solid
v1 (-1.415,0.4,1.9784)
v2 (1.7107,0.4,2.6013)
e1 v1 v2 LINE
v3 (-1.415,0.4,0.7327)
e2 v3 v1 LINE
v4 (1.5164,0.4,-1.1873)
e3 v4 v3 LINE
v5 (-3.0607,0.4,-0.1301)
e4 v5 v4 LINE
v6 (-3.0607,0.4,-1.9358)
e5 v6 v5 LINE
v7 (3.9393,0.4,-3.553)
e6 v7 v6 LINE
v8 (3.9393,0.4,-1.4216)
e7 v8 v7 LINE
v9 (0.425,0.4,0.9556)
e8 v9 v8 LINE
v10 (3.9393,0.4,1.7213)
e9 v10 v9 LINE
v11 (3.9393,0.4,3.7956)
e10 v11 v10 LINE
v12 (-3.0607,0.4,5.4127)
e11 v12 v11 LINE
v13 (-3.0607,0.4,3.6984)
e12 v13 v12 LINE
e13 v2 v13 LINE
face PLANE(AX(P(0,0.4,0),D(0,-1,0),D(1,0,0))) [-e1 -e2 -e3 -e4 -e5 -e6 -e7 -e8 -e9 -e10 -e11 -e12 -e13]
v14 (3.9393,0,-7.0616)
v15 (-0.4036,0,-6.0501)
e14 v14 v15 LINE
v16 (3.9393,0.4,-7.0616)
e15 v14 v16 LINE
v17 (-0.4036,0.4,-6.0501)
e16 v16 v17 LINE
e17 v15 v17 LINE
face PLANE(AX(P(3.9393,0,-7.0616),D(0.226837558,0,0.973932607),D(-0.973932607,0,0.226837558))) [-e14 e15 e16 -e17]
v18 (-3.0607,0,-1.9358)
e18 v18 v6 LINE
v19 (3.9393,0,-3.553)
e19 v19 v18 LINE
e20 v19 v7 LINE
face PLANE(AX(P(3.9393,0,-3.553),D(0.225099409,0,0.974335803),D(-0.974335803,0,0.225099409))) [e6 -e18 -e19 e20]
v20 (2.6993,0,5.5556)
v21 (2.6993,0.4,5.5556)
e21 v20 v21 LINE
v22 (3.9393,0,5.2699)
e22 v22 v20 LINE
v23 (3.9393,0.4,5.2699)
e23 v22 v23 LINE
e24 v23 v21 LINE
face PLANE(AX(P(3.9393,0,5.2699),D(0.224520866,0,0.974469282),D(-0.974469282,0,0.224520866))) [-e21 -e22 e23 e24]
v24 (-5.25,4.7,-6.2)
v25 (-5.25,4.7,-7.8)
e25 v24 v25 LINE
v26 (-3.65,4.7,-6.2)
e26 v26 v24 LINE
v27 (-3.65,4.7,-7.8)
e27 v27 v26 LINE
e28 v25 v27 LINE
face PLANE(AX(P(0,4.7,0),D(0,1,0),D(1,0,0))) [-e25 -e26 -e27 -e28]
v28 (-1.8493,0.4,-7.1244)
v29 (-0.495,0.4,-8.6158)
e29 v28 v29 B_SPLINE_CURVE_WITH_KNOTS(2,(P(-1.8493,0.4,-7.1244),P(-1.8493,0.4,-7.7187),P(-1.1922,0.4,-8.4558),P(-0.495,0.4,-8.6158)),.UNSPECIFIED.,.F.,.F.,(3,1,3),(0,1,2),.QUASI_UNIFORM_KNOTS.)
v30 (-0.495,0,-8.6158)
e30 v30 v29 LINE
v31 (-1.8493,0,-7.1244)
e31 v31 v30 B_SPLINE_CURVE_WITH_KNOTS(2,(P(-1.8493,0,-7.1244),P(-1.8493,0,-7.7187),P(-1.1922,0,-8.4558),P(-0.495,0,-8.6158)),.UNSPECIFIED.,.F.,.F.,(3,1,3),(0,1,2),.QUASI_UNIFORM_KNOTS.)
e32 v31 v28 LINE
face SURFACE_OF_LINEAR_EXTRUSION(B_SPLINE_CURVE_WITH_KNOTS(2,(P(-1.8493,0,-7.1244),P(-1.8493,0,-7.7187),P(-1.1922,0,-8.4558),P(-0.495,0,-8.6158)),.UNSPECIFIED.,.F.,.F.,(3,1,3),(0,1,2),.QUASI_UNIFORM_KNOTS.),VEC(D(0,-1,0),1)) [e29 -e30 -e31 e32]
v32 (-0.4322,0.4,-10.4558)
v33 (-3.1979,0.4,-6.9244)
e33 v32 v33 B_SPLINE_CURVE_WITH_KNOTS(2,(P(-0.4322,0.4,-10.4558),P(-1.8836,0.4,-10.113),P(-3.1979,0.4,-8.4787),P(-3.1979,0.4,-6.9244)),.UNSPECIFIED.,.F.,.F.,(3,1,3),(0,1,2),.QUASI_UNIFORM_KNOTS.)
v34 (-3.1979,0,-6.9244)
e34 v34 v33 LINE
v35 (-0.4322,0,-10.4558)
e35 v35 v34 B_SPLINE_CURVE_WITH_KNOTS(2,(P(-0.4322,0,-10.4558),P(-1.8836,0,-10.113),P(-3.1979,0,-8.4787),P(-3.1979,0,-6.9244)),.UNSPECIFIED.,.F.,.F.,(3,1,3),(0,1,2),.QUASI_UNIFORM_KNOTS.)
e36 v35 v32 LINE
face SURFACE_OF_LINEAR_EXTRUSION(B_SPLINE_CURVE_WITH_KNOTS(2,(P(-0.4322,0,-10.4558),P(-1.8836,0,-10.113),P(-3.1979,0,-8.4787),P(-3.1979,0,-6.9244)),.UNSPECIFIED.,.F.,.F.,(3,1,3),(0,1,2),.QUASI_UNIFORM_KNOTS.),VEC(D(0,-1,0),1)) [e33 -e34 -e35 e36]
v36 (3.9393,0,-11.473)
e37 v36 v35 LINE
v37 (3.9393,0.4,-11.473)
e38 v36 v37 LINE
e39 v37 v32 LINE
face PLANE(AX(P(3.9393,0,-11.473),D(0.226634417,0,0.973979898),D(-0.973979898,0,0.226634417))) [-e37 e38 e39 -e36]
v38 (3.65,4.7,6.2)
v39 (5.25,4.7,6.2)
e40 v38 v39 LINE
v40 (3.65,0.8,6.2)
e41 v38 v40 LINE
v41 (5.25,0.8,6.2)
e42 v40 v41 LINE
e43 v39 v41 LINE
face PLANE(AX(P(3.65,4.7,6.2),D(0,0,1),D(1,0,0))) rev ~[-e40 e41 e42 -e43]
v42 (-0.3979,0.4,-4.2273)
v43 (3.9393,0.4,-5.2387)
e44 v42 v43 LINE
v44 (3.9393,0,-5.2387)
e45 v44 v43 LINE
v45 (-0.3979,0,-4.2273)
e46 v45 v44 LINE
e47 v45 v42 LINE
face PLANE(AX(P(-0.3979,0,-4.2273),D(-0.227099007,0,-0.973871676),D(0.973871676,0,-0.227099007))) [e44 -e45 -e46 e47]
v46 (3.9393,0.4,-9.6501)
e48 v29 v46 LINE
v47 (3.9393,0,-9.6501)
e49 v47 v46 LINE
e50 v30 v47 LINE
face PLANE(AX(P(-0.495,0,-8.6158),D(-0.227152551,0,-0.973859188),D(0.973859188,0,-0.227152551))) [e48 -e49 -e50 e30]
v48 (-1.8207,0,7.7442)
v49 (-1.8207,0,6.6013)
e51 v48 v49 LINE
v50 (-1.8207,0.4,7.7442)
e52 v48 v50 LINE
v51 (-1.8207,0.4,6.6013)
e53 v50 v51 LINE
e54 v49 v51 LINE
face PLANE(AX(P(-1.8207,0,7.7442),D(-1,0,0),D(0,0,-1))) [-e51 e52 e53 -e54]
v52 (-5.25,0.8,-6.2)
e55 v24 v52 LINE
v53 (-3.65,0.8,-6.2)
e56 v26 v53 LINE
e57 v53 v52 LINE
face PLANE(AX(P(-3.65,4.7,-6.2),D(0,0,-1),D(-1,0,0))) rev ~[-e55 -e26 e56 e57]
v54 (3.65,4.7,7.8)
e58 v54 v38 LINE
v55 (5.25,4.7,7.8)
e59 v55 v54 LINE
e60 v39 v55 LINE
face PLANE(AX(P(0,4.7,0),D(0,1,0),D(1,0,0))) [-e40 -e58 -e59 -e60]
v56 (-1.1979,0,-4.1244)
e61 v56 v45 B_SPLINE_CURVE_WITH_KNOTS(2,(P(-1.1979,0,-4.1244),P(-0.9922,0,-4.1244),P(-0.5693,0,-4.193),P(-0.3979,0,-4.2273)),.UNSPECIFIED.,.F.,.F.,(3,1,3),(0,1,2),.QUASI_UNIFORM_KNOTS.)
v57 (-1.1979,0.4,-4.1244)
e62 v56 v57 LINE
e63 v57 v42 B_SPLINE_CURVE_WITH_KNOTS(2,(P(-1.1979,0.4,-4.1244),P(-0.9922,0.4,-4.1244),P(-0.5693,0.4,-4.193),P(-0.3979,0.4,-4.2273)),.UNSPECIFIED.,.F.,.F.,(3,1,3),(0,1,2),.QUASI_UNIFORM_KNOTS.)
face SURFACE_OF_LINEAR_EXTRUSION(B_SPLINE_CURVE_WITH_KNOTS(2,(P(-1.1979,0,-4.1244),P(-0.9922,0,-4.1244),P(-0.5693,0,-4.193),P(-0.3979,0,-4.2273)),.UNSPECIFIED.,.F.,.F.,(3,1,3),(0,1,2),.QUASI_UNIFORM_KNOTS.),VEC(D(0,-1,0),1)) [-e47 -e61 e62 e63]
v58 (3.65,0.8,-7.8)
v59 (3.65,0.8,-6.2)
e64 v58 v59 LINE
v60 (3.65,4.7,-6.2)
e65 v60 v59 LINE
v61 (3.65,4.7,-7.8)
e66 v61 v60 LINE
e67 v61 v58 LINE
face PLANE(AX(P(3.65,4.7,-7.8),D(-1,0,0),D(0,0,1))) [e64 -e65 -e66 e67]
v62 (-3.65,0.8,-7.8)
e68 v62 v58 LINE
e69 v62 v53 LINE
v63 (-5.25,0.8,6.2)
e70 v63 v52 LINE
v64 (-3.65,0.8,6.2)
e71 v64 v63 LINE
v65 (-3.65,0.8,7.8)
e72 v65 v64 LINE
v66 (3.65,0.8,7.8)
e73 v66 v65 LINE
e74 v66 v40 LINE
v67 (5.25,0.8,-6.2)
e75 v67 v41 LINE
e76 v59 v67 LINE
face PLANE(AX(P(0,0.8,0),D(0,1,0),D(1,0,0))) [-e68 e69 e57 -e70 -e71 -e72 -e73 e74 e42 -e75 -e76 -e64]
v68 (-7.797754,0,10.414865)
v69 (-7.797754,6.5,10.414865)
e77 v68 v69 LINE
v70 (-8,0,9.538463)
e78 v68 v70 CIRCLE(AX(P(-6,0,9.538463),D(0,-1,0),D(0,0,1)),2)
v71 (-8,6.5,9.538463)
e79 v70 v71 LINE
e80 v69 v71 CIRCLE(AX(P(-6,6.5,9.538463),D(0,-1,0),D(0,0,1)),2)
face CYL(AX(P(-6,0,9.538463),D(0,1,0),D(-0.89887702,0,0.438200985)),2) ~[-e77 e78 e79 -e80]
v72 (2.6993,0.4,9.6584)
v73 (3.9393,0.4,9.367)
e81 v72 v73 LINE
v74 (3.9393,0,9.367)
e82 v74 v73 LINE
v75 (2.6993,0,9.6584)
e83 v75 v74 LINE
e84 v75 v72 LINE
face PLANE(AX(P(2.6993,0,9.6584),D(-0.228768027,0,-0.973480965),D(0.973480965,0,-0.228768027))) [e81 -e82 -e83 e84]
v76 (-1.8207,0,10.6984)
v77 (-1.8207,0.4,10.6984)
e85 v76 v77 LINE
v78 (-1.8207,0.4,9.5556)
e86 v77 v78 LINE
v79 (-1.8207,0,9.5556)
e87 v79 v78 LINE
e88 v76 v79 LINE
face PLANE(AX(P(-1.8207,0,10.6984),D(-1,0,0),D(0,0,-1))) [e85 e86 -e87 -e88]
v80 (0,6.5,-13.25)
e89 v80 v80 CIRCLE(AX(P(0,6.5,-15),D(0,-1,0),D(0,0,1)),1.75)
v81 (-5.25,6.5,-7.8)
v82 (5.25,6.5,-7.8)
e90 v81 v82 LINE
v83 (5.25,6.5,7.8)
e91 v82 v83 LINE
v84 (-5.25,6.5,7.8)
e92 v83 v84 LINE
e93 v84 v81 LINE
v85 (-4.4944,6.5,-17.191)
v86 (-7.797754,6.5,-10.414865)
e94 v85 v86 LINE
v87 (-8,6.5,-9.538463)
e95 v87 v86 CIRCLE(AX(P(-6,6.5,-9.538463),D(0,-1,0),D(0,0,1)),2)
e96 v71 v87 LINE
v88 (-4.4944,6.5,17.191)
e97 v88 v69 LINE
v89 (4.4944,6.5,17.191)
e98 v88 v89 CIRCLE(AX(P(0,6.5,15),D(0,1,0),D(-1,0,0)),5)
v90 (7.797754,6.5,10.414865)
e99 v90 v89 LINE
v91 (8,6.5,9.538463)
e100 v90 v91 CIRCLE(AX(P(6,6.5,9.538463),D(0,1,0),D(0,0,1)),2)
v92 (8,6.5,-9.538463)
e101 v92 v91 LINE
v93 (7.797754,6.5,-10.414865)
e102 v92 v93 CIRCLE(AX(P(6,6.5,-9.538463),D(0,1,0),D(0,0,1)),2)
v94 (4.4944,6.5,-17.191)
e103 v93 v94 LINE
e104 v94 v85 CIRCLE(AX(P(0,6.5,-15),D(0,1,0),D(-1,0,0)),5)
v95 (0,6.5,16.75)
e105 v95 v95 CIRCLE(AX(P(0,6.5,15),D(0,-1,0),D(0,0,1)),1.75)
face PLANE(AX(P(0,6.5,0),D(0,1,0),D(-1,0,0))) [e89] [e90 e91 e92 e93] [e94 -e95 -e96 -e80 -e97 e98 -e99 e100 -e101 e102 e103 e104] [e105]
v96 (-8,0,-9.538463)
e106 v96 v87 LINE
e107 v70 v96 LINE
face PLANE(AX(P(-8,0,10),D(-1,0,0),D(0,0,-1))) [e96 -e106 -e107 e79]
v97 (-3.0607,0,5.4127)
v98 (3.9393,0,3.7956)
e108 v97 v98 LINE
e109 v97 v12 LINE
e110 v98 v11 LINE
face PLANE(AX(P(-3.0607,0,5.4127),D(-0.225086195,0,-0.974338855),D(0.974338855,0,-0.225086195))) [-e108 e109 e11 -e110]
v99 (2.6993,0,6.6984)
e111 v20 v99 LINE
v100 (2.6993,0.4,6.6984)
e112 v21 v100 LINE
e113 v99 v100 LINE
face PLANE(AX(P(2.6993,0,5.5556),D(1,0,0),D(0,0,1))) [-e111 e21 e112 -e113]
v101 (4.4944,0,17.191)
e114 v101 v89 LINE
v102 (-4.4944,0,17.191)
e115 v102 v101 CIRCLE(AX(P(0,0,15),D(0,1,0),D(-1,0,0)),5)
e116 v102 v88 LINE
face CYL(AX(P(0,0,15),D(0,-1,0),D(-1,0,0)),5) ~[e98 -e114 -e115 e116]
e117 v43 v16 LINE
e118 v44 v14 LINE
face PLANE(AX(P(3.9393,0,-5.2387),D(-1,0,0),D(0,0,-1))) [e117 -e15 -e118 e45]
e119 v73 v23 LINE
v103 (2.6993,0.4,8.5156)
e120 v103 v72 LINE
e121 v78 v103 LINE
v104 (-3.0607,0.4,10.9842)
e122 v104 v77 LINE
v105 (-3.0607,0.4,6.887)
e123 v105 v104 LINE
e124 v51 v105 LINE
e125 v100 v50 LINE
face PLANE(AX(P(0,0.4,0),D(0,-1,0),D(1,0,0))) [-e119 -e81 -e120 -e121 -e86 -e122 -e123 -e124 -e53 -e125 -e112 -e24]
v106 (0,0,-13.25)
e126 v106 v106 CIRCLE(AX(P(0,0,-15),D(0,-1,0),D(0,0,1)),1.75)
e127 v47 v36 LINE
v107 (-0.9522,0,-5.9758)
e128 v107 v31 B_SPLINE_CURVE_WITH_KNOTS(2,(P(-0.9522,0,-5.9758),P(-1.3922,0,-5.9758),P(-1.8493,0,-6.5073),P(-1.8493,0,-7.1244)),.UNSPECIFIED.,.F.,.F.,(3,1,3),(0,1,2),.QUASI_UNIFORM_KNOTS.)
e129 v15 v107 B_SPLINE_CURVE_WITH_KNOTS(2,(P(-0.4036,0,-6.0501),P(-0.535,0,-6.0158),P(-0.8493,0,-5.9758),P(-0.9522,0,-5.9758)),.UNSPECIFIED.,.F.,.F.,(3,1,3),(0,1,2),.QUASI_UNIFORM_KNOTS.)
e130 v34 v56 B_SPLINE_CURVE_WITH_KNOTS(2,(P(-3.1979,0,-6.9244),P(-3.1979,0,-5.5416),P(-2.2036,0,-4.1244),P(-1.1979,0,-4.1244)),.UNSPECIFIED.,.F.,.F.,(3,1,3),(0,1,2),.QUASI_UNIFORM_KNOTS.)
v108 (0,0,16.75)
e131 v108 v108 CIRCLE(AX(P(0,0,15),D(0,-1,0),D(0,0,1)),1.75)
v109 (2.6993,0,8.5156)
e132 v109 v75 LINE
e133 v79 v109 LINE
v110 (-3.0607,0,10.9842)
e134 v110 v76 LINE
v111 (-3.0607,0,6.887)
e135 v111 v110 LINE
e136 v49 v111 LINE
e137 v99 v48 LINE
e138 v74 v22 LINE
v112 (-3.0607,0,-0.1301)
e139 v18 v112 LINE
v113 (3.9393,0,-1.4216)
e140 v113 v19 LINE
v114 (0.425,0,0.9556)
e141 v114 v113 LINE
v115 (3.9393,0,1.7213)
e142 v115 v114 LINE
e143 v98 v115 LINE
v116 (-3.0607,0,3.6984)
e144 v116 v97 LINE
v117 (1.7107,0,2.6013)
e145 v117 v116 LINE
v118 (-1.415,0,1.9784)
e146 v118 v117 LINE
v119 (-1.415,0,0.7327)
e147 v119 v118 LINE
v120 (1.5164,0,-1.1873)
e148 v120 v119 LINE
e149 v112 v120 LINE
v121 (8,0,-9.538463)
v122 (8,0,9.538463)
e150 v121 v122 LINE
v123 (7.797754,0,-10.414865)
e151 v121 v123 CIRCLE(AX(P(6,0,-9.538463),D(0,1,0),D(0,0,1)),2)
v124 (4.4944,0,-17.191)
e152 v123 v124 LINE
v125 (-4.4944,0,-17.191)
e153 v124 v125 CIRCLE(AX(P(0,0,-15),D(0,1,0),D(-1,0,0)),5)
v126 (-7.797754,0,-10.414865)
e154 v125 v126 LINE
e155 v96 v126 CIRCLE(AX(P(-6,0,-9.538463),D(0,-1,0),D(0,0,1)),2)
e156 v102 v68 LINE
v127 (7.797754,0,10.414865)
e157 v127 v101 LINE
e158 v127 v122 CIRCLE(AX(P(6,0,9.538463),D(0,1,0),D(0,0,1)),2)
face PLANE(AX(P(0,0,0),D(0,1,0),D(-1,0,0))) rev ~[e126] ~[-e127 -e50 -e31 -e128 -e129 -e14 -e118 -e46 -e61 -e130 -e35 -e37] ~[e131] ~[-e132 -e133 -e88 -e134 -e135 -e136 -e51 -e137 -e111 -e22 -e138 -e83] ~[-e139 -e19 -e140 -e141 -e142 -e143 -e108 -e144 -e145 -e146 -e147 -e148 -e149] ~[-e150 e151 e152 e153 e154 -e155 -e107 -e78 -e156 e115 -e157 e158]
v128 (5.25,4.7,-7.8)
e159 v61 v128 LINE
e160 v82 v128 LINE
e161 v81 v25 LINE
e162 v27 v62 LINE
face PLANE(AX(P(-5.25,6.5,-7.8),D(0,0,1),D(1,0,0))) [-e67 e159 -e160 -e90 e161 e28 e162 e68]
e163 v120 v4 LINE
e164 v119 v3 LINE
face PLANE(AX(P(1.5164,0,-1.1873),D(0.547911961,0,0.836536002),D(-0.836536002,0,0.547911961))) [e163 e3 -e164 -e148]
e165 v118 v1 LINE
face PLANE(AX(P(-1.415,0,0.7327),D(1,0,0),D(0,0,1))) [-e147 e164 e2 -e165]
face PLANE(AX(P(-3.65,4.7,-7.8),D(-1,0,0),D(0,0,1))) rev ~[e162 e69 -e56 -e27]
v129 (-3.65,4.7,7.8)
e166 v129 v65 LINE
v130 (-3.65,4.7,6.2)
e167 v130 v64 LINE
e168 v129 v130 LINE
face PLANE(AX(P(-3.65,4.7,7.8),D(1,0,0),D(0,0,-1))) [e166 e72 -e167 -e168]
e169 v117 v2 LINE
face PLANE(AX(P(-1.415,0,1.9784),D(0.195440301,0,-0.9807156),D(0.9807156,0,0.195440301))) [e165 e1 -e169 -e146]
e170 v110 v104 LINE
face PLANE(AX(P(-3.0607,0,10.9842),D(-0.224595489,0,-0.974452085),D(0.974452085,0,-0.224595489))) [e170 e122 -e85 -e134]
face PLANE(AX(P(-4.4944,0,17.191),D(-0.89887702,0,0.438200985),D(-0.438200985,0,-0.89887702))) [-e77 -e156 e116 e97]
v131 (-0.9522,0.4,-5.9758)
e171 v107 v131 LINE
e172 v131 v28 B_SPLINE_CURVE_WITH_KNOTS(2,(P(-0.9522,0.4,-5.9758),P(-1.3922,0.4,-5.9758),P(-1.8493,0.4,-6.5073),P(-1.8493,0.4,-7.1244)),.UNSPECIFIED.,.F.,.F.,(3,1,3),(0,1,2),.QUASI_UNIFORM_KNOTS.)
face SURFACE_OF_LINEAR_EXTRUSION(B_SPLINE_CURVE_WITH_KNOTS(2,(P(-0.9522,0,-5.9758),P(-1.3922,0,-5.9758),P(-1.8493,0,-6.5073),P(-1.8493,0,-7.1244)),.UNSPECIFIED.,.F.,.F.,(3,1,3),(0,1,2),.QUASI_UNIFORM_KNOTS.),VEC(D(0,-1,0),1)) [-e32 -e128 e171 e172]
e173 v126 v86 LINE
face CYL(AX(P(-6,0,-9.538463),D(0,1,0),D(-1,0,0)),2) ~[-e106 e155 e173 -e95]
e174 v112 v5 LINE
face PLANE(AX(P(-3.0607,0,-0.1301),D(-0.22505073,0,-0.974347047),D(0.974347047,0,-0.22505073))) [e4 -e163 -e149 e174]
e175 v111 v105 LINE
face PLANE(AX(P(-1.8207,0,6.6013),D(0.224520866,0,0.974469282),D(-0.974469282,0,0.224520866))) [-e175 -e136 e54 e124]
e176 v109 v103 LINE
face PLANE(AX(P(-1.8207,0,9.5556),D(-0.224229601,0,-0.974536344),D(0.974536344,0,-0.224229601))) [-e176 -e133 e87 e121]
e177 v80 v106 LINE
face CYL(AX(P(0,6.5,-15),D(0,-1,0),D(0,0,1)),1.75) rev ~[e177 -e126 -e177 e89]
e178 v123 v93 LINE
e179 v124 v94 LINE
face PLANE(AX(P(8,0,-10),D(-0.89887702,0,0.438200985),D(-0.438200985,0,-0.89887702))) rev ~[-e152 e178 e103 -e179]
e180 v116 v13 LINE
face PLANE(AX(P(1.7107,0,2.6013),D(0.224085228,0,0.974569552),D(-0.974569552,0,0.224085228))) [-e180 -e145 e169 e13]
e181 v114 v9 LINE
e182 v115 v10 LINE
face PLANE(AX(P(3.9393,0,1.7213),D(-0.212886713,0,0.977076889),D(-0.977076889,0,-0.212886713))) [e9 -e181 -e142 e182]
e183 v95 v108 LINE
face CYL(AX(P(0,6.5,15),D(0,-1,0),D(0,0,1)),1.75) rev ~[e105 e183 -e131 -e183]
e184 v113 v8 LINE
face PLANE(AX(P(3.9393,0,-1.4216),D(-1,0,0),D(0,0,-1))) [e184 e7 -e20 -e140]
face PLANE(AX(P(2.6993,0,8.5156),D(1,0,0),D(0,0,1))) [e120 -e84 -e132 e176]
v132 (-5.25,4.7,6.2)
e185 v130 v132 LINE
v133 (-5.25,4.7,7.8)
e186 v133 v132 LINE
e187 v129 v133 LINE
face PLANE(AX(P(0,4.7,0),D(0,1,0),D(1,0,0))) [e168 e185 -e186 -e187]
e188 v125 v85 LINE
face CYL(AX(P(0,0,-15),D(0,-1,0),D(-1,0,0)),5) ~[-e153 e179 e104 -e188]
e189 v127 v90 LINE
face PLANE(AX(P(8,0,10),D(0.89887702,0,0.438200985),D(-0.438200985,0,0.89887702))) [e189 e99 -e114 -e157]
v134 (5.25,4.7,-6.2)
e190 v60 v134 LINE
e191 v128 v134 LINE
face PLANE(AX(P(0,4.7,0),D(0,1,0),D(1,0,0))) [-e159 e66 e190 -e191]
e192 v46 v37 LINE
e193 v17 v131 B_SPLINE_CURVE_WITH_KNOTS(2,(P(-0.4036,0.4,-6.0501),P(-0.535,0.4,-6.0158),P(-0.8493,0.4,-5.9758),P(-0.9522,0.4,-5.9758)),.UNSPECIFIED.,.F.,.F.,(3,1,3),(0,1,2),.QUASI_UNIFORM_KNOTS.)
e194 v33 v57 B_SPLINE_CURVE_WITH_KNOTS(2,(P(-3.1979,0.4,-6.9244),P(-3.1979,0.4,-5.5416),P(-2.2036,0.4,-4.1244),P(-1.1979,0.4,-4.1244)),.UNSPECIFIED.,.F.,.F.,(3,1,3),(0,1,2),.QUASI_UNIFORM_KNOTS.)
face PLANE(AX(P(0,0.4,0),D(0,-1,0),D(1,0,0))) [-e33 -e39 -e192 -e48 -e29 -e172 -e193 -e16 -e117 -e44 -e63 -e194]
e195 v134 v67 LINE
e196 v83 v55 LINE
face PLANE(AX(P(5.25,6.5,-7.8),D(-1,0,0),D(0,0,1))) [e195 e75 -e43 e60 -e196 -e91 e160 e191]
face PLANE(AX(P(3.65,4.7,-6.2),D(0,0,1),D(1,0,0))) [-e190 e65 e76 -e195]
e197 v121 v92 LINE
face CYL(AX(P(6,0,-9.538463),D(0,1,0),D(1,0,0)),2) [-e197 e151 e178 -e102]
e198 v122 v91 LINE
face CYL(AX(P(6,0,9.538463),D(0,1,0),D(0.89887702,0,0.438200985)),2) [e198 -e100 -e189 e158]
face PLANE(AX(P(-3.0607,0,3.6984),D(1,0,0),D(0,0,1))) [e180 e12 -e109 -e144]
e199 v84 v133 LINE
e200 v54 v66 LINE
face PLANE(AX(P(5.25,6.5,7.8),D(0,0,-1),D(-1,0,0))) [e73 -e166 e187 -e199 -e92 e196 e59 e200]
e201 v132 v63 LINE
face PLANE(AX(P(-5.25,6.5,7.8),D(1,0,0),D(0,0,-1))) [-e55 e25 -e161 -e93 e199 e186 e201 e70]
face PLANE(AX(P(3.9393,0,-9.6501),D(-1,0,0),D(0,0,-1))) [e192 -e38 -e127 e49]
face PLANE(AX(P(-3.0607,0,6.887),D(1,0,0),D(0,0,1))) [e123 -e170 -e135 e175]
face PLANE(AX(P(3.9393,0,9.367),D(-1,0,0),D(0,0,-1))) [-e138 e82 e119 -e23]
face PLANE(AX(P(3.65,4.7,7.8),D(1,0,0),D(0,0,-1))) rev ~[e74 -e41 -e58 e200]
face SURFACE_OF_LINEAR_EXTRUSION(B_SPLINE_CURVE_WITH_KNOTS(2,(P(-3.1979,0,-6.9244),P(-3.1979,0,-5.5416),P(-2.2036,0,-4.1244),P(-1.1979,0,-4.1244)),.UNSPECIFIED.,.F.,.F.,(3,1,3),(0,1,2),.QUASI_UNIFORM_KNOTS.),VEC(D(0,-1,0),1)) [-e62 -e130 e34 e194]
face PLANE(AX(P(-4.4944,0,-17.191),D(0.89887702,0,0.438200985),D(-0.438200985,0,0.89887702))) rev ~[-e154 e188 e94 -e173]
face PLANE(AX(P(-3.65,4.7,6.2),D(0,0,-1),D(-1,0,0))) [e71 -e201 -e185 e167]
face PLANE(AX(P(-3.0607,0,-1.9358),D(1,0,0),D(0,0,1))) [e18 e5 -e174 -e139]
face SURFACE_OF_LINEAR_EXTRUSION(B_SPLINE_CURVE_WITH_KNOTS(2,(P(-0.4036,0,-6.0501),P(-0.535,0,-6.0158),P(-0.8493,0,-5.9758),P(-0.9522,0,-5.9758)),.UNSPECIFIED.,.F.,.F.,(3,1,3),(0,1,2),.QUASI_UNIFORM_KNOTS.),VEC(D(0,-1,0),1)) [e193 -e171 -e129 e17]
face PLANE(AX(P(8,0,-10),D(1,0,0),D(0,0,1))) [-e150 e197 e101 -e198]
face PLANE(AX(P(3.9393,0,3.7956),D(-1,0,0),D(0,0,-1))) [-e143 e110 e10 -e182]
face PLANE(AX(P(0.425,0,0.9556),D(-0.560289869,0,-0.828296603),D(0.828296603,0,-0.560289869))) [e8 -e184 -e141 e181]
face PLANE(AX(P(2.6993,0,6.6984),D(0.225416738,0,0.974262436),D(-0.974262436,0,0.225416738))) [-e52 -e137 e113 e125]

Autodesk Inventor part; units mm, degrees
ref_plane "YZ Plane" through (0, 0, 0) normal (1, 0, 0) x (0, 1, 0)
ref_plane "XZ Plane" through (0, 0, 0) normal (0, 1, 0) x (-1, 0, 0)
ref_plane "XY Plane" through (0, 0, 0) normal (0, 0, 1) x (1, 0, 0)
sketch "スケッチ1" plane through (0, 0, 0) normal (0, 1, 0) x (-1, 0, 0)
  line L0 (-8, 10) -> (8, 10)
  line L1 (8, 10) -> (8, -10)
  line L2 (8, -10) -> (-8, -10)
  line L3 (-8, -10) -> (-8, 10)
  line L4 (-8, 10) -> (8, -10) construction
  line L5 (8, 10) -> (-8, -10) construction
  circle A0 centre (0, 15) radius 5
  circle A1 centre (0, -15) radius 5
  line L6 (4.4944, 17.191) -> (8, 10)
  line L7 (-8, 10) -> (-4.4944, 17.191)
  line L8 (4.4944, -17.191) -> (8, -10)
  line L9 (-8, -10) -> (-4.4944, -17.191)
  point P0 (0, 0)
  dimension "d0" = 16
  dimension "d1" = 20
  dimension "d2" = 10
  dimension "d3" = 10
extrude "押し出し1" add sketch "スケッチ1" along normal blind 6.5
sketch "スケッチ2" plane through (0, 6.5, 0) normal (0, 1, 0) x (1, 0, 0)
  line L0 (5.25, -7.8) -> (-5.25, -7.8)
  line L1 (-5.25, -7.8) -> (-5.25, 7.8)
  line L2 (-5.25, 7.8) -> (5.25, 7.8)
  line L3 (5.25, 7.8) -> (5.25, -7.8)
  line L4 (5.25, -7.8) -> (-5.25, 7.8) construction
  line L5 (-5.25, -7.8) -> (5.25, 7.8) construction
  point P0 (0, 0)
  dimension "d6" = 10.5
  dimension "d7" = 15.6
extrude "押し出し2" cut sketch "スケッチ2" against normal blind 1.8
sketch "スケッチ3" plane through (0, 4.7, 0) normal (0, 1, 0) x (1, 0, 0)
  line L0 (-5.25, 7.8) -> (5.25, 7.8) projected
  line L1 (-5.25, -7.8) -> (-5.25, 7.8) projected
  line L2 (5.25, -7.8) -> (-5.25, -7.8) projected
  line L3 (5.25, 7.8) -> (5.25, -7.8) projected
  line L4 (-5.25, -7.8) -> (-3.65, -7.8)
  line L5 (-3.65, -7.8) -> (-3.65, -6.2)
  line L6 (-3.65, -6.2) -> (-5.25, -6.2)
  line L7 (-5.25, -6.2) -> (-5.25, -7.8)
  line L8 (5.25, -7.8) -> (3.65, -7.8)
  line L9 (3.65, -7.8) -> (3.65, -6.2)
  line L10 (3.65, -6.2) -> (5.25, -6.2)
  line L11 (5.25, -6.2) -> (5.25, -7.8)
  line L12 (-5.25, 7.8) -> (-3.65, 7.8)
  line L13 (-3.65, 7.8) -> (-3.65, 6.2)
  line L14 (-3.65, 6.2) -> (-5.25, 6.2)
  line L15 (-5.25, 6.2) -> (-5.25, 7.8)
  line L16 (-5.25, 7.8) -> (5.25, 7.8) projected
  line L17 (5.25, 7.8) -> (3.65, 7.8)
  line L18 (3.65, 7.8) -> (3.65, 6.2)
  line L19 (3.65, 6.2) -> (5.25, 6.2)
  line L20 (5.25, 6.2) -> (5.25, 7.8)
  point P0 (0, 0)
  point P1 (-5.25, 6.2)
  point P2 (3.65, -7.8)
  dimension "d10" = 1.6
  dimension "d11" = 1.6
  dimension "d12" = 1.6
  dimension "d13" = 1.6
  dimension "d14" = 1.6
  dimension "d15" = 1.6
  dimension "d16" = 1.6
  dimension "d17" = 1.6
extrude "押し出し3" cut sketch "スケッチ3" against normal blind 3.9 contours L0 L18 L19 L3 L10 L9 L2 L5 L6 L1 L14 L13
sketch "スケッチ4" plane through (0, 6.5, 0) normal (0, 1, 0) x (1, 0, 0)
  arc A0 (-4.4944, -17.191) -> (4.4944, -17.191) centre (0, -15) ccw projected
  arc A1 (4.4944, 17.191) -> (-4.4944, 17.191) centre (0, 15) ccw projected
  point P0 (0, 0)
hole "穴1" at (0, 6.5, 15) at (0, 6.5, -15) direction (0, -1, 0) diameter 3.5 end through all
fillet "フィレット1" radius 2 4 edges at (8, 3.25, 10) (8, 3.25, -10) (-8, 3.25, -10) (-8, 3.25, 10)
sketch "スケッチ5" plane through (0, 0, 0) normal (0, -1, 0) x (1, 0, 0)
  line L0 (3.9393, 10.9499) -> (3.9393, -11.5207) construction
  line L1 (3.9393, -11.5207) -> (-3.7897, -11.5207) construction
  line L2 (-3.7897, -11.5207) -> (-3.7897, 10.9499) construction
  line L3 (-3.7897, 10.9499) -> (3.9393, 10.9499) construction
  line L4 (-3.0607, 6.887) -> (-3.0607, 10.9842)
  line L5 (-3.0607, 10.9842) -> (-1.8207, 10.6984)
  line L6 (-1.8207, 10.6984) -> (-1.8207, 9.5556)
  line L7 (-1.8207, 9.5556) -> (2.6993, 8.5156)
  line L8 (2.6993, 8.5156) -> (2.6993, 9.6584)
  line L9 (2.6993, 9.6584) -> (3.9393, 9.367)
  line L10 (3.9393, 9.367) -> (3.9393, 5.2699)
  line L11 (3.9393, 5.2699) -> (2.6993, 5.5556)
  line L12 (2.6993, 5.5556) -> (2.6993, 6.6984)
  line L13 (2.6993, 6.6984) -> (-1.8207, 7.7442)
  line L14 (-1.8207, 7.7442) -> (-1.8207, 6.6013)
  line L15 (-1.8207, 6.6013) -> (-3.0607, 6.887)
  line L16 (-3.0607, -1.9358) -> (-3.0607, -0.1301)
  line L17 (-3.0607, -0.1301) -> (1.5164, -1.1873)
  line L18 (1.5164, -1.1873) -> (-1.415, 0.7327)
  line L19 (-1.415, 0.7327) -> (-1.415, 1.9784)
  line L20 (-1.415, 1.9784) -> (1.7107, 2.6013)
  line L21 (1.7107, 2.6013) -> (-3.0607, 3.6984)
  line L22 (-3.0607, 3.6984) -> (-3.0607, 5.4127)
  line L23 (-3.0607, 5.4127) -> (3.9393, 3.7956)
  line L24 (3.9393, 3.7956) -> (3.9393, 1.7213)
  line L25 (3.9393, 1.7213) -> (0.425, 0.9556)
  line L26 (0.425, 0.9556) -> (3.9393, -1.4216)
  line L27 (3.9393, -1.4216) -> (3.9393, -3.553)
  line L28 (3.9393, -3.553) -> (-3.0607, -1.9358)
  line L29 (3.9393, -11.473) -> (-0.4322, -10.4558)
  spline S0 degree 2 poles (-0.4322, -10.4558) (-1.8836, -10.113) (-3.1979, -8.4787) (-3.1979, -6.9244) knots 0 0 0 1 2 2 2
  spline S1 degree 2 poles (-3.1979, -6.9244) (-3.1979, -5.5416) (-2.2036, -4.1244) (-1.1979, -4.1244) knots 0 0 0 1 2 2 2
  spline S2 degree 2 poles (-1.1979, -4.1244) (-0.9922, -4.1244) (-0.5693, -4.193) (-0.3979, -4.2273) knots 0 0 0 1 2 2 2
  line L30 (-0.3979, -4.2273) -> (3.9393, -5.2387)
  line L31 (3.9393, -5.2387) -> (3.9393, -7.0616)
  line L32 (3.9393, -7.0616) -> (-0.4036, -6.0501)
  spline S3 degree 2 poles (-0.4036, -6.0501) (-0.535, -6.0158) (-0.8493, -5.9758) (-0.9522, -5.9758) knots 0 0 0 1 2 2 2
  spline S4 degree 2 poles (-0.9522, -5.9758) (-1.3922, -5.9758) (-1.8493, -6.5073) (-1.8493, -7.1244) knots 0 0 0 1 2 2 2
  spline S5 degree 2 poles (-1.8493, -7.1244) (-1.8493, -7.7187) (-1.1922, -8.4558) (-0.495, -8.6158) knots 0 0 0 1 2 2 2
  line L33 (-0.495, -8.6158) -> (3.9393, -9.6501)
  line L34 (3.9393, -9.6501) -> (3.9393, -11.473)
  point P0 (0, 0)
extrude "押し出し4" cut sketch "スケッチ5" against normal blind 0.4
equation "\"d3\" = d2"
properties part number "3D_bno055_top_3D プリント"
